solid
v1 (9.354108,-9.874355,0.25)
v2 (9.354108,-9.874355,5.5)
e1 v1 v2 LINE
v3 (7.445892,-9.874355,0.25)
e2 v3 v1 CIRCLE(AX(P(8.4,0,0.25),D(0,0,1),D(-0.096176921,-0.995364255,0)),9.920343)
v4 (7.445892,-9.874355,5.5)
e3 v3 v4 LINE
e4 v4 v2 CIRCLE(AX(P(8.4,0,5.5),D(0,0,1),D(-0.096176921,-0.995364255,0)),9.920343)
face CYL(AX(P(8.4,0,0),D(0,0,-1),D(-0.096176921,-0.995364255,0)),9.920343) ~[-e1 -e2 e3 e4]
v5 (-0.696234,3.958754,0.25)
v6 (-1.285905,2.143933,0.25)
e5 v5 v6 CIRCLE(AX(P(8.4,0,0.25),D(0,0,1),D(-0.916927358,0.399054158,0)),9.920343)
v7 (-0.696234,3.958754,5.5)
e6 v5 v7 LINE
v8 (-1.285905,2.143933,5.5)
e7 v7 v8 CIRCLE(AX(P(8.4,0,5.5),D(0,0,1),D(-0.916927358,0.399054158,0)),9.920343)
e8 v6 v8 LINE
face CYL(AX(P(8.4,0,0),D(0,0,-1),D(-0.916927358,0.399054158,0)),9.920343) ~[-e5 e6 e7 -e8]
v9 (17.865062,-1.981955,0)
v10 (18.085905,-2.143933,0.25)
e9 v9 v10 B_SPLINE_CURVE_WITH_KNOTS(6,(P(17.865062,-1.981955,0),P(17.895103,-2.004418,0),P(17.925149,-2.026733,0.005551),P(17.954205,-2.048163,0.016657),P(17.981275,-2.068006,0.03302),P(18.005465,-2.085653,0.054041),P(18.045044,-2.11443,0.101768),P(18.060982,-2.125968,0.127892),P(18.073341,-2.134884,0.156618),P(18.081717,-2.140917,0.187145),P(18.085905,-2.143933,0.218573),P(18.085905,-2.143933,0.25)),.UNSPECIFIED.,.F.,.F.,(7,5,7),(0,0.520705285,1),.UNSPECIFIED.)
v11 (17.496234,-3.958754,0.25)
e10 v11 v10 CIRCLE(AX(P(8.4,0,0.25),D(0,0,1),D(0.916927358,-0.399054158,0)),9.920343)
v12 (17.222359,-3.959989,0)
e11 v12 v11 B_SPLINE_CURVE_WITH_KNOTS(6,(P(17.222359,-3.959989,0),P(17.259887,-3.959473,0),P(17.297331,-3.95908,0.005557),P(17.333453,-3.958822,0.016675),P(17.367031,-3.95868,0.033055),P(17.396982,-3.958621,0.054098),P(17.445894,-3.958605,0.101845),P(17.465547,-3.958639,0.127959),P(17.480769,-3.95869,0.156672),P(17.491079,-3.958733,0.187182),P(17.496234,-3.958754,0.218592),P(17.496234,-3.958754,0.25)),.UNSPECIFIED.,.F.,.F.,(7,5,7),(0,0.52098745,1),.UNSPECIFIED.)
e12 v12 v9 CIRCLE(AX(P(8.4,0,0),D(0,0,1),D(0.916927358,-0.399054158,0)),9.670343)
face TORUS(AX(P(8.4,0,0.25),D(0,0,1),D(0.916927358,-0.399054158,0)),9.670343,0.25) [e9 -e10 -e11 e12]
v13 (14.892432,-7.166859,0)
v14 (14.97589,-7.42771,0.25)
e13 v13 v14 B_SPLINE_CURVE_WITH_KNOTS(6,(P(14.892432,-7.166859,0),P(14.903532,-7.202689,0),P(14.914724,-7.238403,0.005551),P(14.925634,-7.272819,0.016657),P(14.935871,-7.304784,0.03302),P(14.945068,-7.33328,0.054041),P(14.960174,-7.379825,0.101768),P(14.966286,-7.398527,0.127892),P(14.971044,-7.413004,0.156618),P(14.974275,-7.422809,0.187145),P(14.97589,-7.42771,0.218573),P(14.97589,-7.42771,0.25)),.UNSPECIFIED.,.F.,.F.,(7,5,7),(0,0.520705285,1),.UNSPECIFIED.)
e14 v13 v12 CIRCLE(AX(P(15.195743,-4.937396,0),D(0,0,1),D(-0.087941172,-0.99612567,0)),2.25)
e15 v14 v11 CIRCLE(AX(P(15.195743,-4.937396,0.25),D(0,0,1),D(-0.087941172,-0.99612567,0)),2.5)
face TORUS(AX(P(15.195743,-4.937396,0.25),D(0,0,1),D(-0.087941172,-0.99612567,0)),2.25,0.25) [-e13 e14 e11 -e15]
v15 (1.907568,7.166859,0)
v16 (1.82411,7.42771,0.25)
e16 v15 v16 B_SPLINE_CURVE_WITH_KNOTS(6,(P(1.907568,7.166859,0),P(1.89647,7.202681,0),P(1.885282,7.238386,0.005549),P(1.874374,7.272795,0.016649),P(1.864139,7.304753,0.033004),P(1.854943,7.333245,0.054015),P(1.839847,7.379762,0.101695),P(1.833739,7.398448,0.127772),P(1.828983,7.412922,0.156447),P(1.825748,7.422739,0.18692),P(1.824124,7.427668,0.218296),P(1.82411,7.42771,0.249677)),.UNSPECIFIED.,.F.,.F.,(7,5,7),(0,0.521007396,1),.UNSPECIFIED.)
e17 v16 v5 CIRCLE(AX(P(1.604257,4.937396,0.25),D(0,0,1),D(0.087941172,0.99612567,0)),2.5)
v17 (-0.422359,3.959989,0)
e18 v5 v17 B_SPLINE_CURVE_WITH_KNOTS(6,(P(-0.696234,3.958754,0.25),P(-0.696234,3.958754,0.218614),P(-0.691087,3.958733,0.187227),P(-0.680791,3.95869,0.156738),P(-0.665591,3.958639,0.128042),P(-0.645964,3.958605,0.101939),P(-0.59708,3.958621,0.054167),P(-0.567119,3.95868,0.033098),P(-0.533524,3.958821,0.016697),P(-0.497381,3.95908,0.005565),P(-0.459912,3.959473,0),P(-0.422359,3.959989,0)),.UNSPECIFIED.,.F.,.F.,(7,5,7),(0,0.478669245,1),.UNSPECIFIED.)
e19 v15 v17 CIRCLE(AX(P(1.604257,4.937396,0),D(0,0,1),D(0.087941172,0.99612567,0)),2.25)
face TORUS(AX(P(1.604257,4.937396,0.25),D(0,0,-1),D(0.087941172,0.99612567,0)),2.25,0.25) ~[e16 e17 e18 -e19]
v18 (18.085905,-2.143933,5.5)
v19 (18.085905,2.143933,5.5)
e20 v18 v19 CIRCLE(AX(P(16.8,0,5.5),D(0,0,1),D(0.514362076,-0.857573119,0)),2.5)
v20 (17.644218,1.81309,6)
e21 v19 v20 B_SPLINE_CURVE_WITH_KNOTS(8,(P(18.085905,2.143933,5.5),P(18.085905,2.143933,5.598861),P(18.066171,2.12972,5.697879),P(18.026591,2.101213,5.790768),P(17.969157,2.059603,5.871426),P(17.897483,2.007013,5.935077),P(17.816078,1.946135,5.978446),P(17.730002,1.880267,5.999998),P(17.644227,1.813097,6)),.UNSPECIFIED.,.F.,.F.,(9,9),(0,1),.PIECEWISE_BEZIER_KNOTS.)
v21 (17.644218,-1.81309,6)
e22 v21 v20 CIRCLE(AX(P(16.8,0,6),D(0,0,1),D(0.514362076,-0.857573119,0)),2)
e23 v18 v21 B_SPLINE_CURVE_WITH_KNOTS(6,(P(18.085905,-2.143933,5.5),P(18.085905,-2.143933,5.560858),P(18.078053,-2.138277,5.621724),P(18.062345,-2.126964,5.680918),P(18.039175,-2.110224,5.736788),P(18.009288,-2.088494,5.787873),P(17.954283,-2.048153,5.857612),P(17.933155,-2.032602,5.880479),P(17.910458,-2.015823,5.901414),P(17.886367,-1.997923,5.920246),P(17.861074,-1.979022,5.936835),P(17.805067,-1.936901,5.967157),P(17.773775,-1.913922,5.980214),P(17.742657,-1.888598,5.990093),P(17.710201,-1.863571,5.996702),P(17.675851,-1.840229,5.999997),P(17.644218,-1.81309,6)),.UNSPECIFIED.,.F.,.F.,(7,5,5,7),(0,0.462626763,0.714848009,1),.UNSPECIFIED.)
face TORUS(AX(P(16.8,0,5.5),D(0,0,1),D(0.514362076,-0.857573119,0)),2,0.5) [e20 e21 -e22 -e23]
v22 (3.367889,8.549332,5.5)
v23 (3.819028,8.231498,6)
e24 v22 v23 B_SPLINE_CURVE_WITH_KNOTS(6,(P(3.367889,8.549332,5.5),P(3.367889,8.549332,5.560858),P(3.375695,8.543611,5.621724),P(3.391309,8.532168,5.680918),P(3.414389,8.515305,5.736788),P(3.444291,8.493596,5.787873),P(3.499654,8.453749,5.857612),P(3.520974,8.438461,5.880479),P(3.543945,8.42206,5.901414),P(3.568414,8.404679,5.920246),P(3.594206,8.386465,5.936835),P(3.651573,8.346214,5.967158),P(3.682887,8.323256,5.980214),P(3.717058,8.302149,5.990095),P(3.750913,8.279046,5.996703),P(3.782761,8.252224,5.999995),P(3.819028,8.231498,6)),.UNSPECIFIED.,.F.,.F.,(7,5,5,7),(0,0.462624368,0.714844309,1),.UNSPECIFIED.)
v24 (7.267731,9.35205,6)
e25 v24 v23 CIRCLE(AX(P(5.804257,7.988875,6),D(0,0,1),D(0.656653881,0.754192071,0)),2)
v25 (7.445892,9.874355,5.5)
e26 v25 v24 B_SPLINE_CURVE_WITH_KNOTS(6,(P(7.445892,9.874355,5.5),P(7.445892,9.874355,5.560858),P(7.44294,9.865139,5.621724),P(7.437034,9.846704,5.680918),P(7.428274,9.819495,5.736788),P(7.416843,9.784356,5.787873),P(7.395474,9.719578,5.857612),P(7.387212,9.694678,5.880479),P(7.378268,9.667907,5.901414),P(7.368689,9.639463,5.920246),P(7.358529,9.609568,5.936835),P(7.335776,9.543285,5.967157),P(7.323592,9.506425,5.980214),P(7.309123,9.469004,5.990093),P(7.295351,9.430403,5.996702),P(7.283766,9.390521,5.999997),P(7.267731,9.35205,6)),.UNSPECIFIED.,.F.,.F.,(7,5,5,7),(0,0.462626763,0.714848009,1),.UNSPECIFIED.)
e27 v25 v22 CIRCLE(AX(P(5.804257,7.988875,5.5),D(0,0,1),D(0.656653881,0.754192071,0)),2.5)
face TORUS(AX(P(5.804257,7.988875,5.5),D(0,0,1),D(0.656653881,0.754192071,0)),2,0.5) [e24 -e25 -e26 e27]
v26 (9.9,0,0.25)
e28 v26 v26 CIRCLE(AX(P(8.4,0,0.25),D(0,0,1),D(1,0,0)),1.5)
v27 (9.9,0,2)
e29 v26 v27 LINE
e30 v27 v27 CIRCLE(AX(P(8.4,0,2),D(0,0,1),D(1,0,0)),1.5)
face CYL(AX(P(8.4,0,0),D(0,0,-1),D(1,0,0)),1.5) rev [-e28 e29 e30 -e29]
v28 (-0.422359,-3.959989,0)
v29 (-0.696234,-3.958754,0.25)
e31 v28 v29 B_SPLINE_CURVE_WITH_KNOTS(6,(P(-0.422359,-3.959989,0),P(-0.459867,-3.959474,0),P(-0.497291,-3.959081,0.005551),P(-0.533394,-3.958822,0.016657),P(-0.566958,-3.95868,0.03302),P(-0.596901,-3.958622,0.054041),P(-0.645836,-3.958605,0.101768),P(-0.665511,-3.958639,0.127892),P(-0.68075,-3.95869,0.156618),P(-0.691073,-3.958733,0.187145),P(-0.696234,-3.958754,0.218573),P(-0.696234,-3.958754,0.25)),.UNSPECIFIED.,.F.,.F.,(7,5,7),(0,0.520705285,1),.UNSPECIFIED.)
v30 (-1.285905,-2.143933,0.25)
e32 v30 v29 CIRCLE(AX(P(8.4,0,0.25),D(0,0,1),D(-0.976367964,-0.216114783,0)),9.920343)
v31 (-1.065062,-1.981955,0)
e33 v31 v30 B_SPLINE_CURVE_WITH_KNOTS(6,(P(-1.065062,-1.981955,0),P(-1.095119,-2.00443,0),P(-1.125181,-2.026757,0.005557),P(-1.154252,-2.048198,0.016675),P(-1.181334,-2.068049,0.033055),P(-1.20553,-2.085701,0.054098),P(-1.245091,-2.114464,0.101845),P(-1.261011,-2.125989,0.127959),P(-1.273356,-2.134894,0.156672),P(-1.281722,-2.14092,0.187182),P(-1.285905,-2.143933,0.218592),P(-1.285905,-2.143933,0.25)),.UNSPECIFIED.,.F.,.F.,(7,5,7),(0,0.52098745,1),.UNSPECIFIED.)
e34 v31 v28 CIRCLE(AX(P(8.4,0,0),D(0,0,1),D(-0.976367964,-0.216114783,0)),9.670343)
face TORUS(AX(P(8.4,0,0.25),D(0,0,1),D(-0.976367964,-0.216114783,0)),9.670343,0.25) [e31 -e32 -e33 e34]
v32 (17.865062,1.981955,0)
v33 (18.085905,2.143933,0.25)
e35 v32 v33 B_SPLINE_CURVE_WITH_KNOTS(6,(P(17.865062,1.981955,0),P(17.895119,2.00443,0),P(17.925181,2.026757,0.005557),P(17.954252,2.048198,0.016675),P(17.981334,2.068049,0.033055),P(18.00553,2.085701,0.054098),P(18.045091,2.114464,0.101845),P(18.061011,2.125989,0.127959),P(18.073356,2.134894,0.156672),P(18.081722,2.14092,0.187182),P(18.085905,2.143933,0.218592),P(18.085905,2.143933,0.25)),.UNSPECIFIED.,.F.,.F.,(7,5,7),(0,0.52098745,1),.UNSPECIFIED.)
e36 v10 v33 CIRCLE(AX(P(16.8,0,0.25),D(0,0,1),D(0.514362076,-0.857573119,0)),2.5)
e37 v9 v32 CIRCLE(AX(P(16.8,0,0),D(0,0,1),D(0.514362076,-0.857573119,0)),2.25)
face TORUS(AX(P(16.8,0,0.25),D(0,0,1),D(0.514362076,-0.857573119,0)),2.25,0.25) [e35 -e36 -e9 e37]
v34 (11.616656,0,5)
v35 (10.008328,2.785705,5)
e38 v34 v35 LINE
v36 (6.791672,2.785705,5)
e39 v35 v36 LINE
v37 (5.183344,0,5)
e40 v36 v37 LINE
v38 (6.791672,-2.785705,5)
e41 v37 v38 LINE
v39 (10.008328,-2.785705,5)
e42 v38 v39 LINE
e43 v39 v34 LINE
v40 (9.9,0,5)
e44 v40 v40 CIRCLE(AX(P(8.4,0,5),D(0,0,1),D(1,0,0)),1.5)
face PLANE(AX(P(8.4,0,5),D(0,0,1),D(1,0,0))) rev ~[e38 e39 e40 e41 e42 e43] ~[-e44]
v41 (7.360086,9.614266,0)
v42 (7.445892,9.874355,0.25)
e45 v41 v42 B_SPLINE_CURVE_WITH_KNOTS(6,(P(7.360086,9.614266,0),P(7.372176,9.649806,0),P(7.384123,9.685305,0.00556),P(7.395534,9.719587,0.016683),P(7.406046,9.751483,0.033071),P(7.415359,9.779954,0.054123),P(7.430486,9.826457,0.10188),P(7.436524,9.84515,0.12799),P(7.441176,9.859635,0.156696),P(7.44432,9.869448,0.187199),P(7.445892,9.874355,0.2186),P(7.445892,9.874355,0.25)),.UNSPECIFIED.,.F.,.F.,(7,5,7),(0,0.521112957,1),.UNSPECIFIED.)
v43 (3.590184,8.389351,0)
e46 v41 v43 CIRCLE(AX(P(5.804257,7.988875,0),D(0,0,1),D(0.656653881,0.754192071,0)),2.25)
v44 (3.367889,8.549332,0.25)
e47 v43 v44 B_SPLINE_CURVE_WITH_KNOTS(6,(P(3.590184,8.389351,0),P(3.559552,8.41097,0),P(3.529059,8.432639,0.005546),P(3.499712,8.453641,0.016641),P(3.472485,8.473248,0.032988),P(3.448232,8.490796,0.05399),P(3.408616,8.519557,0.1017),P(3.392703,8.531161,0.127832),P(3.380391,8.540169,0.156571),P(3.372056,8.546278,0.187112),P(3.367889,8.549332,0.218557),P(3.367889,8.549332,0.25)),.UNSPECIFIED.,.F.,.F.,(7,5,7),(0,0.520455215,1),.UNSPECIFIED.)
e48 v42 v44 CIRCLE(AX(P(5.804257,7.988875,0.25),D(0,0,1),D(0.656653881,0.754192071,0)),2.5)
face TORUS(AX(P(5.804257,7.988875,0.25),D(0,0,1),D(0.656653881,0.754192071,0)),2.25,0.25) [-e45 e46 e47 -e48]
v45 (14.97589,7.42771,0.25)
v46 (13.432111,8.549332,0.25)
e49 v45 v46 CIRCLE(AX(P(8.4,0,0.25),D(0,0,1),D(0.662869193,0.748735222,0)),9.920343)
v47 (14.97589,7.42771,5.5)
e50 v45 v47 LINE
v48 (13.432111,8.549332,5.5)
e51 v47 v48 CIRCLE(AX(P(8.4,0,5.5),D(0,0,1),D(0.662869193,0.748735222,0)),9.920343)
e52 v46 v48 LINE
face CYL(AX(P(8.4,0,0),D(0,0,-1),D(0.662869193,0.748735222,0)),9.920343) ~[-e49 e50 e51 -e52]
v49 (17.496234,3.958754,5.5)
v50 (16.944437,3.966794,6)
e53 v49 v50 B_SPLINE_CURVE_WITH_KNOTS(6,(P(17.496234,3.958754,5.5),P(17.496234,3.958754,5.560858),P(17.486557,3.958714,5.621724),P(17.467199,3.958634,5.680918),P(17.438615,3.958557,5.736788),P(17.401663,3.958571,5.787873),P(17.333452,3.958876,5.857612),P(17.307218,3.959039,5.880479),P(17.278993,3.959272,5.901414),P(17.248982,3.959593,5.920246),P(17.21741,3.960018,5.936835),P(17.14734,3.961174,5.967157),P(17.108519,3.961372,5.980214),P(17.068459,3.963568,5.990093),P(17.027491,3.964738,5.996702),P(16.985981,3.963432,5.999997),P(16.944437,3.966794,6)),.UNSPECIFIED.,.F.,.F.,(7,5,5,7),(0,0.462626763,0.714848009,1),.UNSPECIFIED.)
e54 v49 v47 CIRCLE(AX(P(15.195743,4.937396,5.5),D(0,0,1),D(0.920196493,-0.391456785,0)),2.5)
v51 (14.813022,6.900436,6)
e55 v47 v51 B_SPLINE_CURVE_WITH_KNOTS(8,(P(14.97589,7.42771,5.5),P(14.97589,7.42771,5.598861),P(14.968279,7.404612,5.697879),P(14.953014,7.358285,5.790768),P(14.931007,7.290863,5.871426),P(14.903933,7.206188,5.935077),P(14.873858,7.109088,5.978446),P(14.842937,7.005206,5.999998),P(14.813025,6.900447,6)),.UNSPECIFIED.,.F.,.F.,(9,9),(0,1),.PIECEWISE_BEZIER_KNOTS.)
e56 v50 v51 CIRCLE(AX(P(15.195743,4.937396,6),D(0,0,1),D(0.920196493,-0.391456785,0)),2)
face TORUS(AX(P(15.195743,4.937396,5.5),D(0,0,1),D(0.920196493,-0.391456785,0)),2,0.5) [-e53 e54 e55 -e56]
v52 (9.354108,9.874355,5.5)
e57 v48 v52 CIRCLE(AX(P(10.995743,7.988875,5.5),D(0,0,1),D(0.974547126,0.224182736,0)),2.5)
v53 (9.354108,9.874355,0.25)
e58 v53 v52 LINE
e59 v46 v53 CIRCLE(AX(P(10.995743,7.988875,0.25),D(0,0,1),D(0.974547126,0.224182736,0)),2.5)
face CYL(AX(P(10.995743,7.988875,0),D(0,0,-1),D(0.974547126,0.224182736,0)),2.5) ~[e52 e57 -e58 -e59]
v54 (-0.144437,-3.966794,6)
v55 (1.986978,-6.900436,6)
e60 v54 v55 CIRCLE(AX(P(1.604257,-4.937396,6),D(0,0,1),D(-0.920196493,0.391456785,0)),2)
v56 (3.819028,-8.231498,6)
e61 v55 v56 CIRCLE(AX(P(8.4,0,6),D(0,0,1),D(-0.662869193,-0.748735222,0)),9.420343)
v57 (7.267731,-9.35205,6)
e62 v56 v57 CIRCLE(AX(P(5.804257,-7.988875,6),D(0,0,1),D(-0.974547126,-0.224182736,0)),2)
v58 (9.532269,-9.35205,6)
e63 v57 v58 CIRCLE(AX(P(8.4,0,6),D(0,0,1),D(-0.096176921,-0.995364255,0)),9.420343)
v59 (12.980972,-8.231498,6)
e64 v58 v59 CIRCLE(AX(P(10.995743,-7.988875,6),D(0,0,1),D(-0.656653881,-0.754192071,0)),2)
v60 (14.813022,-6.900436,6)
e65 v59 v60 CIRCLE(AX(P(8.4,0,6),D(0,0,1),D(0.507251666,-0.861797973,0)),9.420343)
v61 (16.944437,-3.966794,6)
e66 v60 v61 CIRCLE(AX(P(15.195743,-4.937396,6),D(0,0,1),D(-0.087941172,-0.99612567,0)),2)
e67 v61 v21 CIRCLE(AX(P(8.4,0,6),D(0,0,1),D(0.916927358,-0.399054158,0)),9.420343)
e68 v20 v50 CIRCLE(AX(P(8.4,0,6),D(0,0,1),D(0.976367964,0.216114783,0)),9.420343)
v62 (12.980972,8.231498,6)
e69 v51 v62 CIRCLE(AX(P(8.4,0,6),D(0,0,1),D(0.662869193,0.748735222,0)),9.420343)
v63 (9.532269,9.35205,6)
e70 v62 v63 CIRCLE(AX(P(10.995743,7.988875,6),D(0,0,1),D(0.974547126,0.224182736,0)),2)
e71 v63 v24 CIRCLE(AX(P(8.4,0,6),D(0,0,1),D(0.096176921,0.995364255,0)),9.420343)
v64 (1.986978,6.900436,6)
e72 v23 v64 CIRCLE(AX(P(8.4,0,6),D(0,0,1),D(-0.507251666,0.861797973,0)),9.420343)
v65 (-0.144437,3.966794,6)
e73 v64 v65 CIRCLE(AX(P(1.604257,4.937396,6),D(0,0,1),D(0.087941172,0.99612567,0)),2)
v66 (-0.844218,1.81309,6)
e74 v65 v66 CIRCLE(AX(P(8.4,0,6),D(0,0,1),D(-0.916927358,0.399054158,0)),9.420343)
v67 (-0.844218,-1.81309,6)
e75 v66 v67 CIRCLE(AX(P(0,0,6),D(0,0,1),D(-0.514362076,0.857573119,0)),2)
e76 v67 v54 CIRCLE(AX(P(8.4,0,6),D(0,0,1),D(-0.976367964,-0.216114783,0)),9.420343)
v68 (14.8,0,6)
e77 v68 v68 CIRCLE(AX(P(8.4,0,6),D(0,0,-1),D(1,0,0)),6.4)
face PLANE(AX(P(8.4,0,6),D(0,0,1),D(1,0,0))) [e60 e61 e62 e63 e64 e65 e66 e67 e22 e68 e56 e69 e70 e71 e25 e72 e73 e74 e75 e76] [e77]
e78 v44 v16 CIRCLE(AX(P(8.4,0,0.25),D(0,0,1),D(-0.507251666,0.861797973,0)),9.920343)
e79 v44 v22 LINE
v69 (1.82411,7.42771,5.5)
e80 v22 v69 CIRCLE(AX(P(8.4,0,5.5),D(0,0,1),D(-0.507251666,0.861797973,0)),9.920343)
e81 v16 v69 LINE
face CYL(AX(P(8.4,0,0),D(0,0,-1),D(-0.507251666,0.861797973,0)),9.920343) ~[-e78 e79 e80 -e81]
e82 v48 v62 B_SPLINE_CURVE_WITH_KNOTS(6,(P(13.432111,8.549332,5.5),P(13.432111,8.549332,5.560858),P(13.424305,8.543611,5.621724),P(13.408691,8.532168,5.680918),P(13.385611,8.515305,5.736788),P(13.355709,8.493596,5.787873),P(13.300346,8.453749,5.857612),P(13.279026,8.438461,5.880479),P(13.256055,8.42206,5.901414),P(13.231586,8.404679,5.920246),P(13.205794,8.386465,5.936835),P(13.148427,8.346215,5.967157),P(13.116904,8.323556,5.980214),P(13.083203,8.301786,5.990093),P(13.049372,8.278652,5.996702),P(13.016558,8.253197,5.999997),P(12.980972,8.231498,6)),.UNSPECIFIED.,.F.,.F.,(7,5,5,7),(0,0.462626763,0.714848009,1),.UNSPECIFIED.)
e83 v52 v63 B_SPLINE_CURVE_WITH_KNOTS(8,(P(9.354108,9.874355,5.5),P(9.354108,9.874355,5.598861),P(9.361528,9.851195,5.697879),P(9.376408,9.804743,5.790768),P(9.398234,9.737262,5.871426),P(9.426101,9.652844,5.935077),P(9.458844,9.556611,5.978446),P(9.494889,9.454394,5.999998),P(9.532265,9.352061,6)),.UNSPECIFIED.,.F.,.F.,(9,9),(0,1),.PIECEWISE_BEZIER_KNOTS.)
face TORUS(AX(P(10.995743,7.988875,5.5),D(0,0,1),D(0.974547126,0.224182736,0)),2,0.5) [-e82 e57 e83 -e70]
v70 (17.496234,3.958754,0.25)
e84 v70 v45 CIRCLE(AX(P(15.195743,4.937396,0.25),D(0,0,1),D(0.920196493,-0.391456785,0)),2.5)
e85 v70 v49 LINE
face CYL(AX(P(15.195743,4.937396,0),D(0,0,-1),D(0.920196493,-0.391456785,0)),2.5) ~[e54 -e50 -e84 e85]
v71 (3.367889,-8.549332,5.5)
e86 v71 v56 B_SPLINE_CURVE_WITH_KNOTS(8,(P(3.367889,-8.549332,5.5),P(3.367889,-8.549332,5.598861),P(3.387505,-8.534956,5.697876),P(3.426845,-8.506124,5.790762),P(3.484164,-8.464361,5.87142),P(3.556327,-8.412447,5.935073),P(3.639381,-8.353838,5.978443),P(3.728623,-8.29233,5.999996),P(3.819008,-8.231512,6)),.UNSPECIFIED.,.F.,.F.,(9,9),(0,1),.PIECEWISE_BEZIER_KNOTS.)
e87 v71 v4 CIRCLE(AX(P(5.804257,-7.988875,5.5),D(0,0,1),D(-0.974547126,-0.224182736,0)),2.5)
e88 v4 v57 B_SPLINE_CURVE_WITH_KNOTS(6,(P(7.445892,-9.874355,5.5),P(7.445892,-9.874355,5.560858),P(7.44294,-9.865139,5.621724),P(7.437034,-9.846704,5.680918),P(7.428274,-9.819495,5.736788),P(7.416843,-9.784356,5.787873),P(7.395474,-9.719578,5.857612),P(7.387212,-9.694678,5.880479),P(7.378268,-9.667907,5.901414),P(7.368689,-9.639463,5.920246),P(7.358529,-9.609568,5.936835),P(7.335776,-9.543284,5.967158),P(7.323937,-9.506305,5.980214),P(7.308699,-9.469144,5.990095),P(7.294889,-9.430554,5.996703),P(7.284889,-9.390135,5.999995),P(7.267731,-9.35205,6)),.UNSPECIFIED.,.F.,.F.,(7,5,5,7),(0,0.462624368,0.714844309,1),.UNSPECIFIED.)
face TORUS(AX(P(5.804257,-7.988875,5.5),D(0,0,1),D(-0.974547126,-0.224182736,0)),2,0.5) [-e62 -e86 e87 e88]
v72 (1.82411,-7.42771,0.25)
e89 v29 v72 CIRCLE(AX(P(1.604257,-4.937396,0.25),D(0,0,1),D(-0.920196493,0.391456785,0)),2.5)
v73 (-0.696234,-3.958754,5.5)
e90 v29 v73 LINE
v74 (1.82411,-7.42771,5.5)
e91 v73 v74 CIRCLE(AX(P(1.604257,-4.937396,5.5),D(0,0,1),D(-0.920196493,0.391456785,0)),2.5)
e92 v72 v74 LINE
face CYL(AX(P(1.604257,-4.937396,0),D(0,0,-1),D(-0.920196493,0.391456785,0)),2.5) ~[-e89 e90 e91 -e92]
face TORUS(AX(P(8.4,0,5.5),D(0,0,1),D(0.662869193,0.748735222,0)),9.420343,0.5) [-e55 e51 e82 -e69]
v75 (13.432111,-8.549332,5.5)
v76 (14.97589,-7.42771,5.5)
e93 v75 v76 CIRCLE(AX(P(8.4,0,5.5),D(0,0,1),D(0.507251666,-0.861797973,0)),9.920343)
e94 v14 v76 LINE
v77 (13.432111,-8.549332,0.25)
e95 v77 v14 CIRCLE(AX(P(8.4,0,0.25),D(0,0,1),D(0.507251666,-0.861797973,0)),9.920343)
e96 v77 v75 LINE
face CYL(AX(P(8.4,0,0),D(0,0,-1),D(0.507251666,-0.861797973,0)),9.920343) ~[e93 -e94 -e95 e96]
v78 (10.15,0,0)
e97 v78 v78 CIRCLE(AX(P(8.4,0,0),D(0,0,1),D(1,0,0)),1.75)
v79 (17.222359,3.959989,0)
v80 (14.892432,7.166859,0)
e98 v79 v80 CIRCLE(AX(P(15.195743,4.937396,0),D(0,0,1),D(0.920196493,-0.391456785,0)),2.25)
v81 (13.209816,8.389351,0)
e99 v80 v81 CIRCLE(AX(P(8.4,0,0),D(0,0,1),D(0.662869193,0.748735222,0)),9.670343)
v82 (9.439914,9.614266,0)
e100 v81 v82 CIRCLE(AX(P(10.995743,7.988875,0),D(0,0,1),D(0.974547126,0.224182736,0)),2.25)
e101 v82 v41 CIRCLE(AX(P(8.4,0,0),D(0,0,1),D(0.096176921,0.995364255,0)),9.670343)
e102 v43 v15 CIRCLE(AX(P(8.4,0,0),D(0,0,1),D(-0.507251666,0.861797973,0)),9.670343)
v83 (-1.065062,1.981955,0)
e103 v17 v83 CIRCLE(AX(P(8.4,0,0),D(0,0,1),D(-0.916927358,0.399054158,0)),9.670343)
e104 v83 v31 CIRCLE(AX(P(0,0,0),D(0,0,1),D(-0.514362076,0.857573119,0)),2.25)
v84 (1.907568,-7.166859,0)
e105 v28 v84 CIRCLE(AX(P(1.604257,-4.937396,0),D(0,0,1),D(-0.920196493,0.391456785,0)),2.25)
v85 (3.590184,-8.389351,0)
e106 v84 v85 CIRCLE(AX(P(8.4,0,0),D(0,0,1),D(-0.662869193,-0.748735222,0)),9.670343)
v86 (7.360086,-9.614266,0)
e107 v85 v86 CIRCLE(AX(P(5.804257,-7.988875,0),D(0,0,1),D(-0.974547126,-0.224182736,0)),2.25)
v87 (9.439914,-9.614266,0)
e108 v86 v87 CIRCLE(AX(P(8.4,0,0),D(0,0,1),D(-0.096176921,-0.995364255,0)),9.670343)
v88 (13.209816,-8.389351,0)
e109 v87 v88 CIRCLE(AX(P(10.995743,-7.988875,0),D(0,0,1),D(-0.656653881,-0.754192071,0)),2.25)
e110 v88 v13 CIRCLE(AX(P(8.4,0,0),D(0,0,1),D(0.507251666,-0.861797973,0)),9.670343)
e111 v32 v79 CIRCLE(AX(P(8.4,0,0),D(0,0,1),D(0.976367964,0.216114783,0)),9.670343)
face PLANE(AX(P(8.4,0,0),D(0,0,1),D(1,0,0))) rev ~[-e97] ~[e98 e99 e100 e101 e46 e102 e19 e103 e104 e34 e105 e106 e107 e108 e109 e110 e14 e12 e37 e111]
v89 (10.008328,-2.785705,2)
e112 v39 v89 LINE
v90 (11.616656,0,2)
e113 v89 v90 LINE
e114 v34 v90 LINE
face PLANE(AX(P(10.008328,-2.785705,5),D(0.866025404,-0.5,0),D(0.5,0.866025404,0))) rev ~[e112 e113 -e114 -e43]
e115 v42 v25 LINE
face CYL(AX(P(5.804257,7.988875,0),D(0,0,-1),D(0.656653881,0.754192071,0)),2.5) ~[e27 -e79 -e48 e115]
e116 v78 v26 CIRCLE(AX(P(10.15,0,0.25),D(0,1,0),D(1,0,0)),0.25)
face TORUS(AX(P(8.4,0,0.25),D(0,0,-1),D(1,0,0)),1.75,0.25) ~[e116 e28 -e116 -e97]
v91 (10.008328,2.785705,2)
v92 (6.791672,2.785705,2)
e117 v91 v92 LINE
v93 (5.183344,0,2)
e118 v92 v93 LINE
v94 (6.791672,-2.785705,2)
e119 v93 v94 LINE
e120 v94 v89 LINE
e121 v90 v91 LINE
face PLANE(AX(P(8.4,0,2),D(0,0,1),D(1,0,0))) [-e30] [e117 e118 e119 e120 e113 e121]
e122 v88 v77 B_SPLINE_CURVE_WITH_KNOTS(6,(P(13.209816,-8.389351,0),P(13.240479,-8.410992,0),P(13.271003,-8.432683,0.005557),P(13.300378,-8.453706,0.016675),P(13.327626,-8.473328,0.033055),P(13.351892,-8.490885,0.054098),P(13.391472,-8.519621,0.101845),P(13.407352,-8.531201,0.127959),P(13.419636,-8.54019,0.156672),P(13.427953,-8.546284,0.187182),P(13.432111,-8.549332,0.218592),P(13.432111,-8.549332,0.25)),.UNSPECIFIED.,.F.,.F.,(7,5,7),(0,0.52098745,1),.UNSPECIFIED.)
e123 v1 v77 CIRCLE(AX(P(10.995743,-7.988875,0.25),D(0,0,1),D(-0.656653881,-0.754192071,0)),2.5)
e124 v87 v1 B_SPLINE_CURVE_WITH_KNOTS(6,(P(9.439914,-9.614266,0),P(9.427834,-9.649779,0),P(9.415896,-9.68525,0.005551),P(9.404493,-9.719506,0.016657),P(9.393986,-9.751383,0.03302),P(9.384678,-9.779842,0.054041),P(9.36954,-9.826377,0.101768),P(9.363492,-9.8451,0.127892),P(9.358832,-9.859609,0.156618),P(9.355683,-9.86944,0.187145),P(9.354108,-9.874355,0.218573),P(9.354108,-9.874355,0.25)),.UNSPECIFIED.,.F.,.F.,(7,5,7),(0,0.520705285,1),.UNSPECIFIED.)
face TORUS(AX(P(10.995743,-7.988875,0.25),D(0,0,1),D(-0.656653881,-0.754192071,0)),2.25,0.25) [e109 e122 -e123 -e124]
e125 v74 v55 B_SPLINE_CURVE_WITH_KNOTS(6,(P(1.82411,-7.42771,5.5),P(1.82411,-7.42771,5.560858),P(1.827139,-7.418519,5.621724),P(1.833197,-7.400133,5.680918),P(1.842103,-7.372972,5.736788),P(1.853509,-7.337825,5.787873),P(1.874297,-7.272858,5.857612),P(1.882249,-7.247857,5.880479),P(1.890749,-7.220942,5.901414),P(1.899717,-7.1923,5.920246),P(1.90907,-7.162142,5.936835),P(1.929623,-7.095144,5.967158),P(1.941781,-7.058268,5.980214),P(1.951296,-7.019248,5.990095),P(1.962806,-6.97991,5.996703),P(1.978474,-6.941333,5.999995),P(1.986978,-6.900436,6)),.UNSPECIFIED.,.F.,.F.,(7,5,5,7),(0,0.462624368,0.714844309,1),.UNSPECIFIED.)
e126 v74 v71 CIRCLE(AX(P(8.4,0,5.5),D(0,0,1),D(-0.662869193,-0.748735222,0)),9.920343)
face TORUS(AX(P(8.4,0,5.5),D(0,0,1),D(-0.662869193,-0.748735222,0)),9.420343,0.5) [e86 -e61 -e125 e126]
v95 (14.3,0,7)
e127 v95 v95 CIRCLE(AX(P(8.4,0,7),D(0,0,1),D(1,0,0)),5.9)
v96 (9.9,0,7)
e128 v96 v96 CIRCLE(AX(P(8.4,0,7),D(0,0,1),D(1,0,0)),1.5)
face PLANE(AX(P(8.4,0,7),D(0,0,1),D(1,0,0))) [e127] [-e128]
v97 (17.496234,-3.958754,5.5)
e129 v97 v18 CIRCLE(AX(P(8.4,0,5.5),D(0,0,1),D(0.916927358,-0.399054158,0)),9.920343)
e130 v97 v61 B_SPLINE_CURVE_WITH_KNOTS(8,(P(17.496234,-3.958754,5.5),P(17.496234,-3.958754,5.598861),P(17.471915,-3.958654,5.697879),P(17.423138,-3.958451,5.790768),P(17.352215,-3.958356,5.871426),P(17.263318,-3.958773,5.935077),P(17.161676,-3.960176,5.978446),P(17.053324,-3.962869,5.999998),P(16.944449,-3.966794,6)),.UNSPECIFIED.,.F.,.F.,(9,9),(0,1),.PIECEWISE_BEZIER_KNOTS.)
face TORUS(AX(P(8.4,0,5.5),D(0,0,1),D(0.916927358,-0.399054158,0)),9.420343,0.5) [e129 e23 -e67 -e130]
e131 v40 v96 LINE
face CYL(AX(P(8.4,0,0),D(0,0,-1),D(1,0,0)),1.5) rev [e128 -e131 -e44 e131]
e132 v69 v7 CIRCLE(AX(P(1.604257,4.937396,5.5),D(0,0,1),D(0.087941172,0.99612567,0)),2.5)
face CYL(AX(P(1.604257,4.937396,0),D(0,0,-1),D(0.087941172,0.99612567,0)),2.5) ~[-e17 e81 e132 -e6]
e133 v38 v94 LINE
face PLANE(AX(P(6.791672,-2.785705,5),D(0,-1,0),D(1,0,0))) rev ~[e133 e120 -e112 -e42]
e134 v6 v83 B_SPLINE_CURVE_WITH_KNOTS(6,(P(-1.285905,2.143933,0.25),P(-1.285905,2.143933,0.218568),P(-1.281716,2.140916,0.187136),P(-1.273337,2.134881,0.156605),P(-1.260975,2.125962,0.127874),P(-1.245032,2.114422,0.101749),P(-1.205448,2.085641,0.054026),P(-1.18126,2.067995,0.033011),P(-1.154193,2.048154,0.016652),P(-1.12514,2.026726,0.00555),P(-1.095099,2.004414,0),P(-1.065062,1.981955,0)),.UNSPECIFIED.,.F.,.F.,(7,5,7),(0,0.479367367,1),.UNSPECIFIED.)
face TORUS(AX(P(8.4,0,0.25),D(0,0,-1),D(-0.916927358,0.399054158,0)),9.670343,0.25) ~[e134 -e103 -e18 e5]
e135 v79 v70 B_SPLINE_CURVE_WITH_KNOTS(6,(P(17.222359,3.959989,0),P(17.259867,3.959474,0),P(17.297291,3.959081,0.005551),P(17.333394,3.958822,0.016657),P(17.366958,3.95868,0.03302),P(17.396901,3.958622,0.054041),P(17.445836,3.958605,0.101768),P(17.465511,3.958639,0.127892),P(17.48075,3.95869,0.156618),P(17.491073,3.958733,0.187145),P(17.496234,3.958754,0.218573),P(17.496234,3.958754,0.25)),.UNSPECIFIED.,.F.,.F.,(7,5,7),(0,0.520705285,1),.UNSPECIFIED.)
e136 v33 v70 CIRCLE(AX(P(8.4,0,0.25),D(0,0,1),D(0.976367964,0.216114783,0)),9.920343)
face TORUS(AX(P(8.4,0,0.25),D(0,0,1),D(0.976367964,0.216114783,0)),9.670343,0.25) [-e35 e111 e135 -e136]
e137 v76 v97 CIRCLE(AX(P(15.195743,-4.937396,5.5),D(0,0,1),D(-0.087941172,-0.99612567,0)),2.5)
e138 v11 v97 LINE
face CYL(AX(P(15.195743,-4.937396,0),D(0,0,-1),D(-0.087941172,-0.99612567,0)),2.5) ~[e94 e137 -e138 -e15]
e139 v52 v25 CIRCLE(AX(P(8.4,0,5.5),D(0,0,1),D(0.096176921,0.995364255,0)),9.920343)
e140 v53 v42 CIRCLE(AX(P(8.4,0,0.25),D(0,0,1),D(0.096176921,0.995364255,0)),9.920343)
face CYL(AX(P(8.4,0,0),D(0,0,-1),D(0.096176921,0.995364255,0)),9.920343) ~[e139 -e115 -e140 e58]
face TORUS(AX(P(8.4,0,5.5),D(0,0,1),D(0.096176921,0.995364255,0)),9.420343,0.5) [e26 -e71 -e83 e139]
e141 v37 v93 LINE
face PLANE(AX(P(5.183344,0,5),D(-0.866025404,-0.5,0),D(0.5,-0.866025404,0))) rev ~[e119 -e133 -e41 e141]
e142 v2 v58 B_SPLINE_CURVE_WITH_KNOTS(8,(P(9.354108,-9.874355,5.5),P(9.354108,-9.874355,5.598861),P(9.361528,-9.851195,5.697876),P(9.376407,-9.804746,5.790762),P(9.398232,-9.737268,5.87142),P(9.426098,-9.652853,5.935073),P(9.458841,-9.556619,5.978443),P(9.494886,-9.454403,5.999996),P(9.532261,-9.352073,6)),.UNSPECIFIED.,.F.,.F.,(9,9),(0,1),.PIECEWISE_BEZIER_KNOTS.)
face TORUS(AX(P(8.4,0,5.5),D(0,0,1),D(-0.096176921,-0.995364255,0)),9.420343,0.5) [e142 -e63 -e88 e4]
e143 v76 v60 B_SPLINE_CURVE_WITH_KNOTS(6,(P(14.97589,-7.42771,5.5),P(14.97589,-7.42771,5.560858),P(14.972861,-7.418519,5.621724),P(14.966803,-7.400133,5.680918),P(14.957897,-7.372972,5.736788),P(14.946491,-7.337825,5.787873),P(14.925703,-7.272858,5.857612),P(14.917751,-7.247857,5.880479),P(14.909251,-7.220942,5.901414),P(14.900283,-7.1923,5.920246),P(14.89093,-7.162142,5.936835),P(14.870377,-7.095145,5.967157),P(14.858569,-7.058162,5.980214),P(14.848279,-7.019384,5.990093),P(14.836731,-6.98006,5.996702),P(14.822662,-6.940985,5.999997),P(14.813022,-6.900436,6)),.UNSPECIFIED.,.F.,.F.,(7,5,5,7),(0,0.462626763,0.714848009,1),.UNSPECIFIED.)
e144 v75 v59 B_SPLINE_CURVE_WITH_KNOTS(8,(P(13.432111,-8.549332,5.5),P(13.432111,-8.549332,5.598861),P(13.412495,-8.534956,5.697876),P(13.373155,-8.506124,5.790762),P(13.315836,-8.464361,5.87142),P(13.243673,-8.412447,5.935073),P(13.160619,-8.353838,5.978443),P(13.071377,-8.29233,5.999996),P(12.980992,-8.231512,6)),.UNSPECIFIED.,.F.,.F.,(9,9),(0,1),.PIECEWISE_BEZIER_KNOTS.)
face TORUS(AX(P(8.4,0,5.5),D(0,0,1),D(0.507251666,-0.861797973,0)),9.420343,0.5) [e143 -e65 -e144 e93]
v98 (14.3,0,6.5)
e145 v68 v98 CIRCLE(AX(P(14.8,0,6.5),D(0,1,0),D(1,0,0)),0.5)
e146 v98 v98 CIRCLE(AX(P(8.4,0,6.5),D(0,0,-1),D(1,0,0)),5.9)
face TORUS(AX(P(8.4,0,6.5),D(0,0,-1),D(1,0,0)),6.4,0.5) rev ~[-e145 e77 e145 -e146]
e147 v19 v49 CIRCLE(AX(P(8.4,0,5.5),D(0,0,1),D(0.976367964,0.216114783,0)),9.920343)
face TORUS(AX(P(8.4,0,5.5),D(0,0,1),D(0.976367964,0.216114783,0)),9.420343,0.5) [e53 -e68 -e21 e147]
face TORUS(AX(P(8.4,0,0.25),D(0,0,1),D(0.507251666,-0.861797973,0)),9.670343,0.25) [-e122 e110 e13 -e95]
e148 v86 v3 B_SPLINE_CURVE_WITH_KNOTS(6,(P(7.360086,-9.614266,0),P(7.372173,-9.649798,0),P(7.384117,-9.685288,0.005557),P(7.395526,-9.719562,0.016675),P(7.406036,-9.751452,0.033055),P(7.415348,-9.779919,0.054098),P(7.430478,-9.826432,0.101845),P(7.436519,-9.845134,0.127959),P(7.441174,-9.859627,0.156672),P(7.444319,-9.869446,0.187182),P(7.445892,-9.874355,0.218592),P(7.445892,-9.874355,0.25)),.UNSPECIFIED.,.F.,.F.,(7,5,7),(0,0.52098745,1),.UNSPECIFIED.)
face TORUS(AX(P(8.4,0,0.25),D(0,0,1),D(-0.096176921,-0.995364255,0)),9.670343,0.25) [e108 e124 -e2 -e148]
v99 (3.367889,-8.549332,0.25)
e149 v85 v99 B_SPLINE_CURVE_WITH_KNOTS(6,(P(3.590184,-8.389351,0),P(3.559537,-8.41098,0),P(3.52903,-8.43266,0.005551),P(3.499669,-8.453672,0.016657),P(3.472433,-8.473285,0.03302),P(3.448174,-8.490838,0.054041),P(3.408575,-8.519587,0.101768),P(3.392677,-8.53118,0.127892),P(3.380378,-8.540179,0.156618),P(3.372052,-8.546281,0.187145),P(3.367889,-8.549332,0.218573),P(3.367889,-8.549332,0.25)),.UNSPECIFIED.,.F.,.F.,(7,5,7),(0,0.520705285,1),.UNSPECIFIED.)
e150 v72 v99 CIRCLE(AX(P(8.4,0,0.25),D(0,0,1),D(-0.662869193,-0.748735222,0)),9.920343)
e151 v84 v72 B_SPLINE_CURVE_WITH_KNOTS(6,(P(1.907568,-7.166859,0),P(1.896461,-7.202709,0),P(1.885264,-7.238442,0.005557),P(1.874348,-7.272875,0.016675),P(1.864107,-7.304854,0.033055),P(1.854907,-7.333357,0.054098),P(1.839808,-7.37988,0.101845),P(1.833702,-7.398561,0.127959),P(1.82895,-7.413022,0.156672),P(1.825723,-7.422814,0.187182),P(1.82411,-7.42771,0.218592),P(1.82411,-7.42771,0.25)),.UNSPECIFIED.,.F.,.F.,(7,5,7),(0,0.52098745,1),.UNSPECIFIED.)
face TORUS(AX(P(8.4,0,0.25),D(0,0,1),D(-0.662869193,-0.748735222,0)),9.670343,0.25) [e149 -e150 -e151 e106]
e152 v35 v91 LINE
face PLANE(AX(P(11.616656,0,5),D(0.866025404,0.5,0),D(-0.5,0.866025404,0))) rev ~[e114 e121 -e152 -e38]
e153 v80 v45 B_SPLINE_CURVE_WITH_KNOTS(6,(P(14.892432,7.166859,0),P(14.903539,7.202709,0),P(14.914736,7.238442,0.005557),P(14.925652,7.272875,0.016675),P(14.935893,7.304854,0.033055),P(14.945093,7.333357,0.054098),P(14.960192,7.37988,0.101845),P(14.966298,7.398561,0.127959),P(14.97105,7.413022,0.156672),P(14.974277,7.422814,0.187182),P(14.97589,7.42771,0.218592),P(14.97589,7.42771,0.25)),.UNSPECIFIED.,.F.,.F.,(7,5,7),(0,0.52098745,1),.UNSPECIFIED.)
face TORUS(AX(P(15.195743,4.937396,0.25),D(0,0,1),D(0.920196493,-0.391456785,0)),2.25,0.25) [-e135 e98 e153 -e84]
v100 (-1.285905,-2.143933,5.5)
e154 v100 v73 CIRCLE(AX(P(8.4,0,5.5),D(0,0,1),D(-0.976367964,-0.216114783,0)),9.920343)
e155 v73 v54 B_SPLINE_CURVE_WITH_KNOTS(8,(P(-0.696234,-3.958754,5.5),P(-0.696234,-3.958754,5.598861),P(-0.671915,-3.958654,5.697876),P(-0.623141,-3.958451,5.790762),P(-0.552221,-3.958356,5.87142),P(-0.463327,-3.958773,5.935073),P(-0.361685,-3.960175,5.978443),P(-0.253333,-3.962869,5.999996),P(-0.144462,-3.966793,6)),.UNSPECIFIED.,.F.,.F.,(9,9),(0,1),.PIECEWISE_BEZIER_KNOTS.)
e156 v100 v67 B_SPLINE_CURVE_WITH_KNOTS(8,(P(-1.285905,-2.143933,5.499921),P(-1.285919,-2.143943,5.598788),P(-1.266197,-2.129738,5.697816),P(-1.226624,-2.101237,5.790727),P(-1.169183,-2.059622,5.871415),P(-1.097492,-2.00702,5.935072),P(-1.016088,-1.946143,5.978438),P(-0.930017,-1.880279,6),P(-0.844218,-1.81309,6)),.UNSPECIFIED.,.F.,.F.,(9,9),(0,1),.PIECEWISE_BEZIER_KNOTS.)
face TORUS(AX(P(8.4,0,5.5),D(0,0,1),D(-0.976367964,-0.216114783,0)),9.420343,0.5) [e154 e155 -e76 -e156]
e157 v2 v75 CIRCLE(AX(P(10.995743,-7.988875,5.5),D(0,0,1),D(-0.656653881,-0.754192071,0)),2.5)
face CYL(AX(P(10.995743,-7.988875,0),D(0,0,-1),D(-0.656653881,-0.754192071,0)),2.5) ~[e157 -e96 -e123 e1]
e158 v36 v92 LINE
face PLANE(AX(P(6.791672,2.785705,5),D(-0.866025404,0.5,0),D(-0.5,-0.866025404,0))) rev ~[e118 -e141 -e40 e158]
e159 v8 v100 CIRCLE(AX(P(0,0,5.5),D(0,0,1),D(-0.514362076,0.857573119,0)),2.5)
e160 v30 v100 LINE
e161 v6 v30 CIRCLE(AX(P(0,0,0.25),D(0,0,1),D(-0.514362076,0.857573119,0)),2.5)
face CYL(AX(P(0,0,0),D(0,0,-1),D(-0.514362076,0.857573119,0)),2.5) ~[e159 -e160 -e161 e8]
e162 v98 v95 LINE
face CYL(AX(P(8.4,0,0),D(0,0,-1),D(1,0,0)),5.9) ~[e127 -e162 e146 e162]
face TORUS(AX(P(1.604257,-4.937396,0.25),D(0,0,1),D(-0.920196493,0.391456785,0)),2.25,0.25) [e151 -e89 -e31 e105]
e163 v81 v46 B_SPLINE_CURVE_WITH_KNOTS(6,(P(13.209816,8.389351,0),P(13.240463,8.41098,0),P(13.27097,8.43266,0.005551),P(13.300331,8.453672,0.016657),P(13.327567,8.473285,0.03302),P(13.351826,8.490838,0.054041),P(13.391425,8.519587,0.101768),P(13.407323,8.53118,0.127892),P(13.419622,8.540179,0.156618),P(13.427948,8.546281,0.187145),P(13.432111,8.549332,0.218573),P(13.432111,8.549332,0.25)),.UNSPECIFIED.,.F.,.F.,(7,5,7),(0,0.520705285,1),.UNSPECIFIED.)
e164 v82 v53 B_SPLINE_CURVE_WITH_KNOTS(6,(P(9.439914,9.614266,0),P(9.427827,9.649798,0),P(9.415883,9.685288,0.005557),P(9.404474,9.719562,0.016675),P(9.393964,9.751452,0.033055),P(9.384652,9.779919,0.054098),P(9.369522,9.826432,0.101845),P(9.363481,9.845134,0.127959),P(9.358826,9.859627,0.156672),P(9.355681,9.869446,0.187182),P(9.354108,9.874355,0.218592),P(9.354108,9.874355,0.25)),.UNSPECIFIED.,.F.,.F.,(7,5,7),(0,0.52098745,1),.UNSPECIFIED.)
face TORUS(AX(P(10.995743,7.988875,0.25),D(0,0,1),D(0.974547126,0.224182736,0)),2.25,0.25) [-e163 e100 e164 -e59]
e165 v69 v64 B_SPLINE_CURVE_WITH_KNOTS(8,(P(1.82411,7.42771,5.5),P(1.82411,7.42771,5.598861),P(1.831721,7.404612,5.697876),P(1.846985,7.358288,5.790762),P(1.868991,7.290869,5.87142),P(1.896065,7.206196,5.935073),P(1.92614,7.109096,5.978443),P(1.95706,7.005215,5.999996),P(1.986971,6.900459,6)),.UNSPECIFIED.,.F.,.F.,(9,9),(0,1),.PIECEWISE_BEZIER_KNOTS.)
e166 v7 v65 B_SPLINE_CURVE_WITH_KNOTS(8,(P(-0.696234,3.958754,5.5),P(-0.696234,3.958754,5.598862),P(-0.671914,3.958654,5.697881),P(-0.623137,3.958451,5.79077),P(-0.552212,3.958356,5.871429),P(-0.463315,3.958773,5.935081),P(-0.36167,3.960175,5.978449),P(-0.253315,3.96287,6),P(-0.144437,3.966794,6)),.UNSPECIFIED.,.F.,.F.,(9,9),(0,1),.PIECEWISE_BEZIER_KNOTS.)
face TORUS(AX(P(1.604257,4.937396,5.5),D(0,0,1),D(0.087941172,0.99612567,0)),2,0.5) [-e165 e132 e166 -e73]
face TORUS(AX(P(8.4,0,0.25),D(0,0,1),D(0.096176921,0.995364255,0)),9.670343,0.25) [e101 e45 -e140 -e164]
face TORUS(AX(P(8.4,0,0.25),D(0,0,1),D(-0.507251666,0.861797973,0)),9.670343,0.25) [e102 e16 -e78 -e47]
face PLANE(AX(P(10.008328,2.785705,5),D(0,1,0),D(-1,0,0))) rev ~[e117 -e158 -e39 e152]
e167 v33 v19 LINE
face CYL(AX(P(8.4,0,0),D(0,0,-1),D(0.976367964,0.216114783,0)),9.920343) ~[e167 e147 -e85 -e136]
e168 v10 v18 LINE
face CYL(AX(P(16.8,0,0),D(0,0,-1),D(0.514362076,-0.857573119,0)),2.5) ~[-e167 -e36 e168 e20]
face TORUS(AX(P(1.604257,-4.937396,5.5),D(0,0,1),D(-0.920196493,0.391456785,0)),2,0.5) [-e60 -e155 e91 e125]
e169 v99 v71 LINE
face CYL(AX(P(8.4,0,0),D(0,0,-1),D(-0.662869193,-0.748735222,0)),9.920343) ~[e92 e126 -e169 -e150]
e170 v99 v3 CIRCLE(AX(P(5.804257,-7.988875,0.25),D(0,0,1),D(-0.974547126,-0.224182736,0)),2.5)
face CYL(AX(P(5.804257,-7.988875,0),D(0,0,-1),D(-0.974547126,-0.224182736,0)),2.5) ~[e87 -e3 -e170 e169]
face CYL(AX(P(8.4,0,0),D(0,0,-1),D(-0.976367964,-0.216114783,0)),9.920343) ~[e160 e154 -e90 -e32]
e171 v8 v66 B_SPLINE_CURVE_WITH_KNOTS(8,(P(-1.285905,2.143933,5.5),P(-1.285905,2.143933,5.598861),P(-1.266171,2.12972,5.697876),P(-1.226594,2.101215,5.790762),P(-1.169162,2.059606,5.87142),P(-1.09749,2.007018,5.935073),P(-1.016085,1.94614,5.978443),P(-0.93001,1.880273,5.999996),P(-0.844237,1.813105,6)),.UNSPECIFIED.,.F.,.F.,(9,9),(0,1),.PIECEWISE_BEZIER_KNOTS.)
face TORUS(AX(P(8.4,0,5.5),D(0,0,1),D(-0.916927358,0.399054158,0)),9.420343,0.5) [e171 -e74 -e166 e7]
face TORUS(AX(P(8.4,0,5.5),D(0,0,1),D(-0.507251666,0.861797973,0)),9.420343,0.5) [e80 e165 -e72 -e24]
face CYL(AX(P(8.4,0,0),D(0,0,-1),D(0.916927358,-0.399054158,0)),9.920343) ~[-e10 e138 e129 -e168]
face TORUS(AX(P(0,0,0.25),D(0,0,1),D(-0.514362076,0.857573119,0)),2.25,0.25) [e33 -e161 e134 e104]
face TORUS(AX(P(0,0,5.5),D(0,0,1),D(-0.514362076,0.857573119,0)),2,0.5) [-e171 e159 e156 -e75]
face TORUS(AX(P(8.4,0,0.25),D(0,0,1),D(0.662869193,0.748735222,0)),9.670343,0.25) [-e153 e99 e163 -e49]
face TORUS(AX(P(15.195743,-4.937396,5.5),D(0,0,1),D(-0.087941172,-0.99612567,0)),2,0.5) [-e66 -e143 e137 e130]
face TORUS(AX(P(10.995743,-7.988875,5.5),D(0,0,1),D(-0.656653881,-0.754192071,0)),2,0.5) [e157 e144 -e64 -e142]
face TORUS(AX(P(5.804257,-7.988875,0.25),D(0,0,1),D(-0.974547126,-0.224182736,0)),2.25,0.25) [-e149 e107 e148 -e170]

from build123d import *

# Parameters (mm, degrees)
F0_R     = 5.9
F0_R_2   = 1.5
F1_DEPTH = 6
F2_DEPTH = 7
F3_DEPTH = 7
F5_START = -2
F4_R     = 1.5
F5_DEPTH = 3
F6_R     = 0.5
F7_R     = 0.25


with BuildPart() as f1:
    # F0 (on Top) → F1 (new body)
    with BuildSketch(Plane.XY):
        with BuildLine():
            ThreePointArc((-0.6962339846, 3.9587541561), (-1.0348069468, 3.0655546072), (-1.2859051888, 2.1439327987))
            ThreePointArc((-1.2859051888, 2.1439327987), (-2.5, 0), (-1.2859051888, -2.1439327987))
            ThreePointArc((-1.2859051888, -2.1439327987), (-1.0348069468, -3.0655546072), (-0.6962339846, -3.9587541561))
            ThreePointArc((-0.6962339846, -3.9587541561), (-0.4182852387, -6.40685925), (1.8241101773, -7.427710294))
            ThreePointArc((1.8241101773, -7.427710294), (2.5689686296, -8.0257261559), (3.367889432, -8.5493315764))
            ThreePointArc((3.367889432, -8.5493315764), (5.0317147613, -10.3665160276), (7.4458919495, -9.8743549156))
            ThreePointArc((7.4458919495, -9.8743549156), (8.4, -9.9203430975), (9.3541080505, -9.8743549156))
            ThreePointArc((9.3541080505, -9.8743549156), (11.7682852387, -10.3665160276), (13.432110568, -8.5493315764))
            ThreePointArc((13.432110568, -8.5493315764), (14.2310313704, -8.0257261559), (14.9758898227, -7.427710294))
            ThreePointArc((14.9758898227, -7.427710294), (17.2182852387, -6.40685925), (17.4962339846, -3.9587541561))
            ThreePointArc((17.4962339846, -3.9587541561), (17.8348069468, -3.0655546072), (18.0859051888, -2.1439327987))
            ThreePointArc((18.0859051888, -2.1439327987), (19.3, 0), (18.0859051888, 2.1439327987))
            ThreePointArc((18.0859051888, 2.1439327987), (17.8348069468, 3.0655546072), (17.4962339846, 3.9587541561))
            ThreePointArc((17.4962339846, 3.9587541561), (17.2182852387, 6.40685925), (14.9758898227, 7.427710294))
            ThreePointArc((14.9758898227, 7.427710294), (14.2310313704, 8.0257261559), (13.432110568, 8.5493315764))
            ThreePointArc((13.432110568, 8.5493315764), (11.7682852387, 10.3665160276), (9.3541080505, 9.8743549156))
            ThreePointArc((9.3541080505, 9.8743549156), (8.4, 9.9203430975), (7.4458919495, 9.8743549156))
            ThreePointArc((7.4458919495, 9.8743549156), (5.0317147613, 10.3665160276), (3.367889432, 8.5493315764))
            ThreePointArc((3.367889432, 8.5493315764), (2.5689686296, 8.0257261559), (1.8241101773, 7.427710294))
            ThreePointArc((1.8241101773, 7.427710294), (-0.4182852387, 6.40685925), (-0.6962339846, 3.9587541561))
        make_face()
        with Locations((8.4, 0)):
            Circle(F0_R, mode=Mode.SUBTRACT)
        with Locations((8.4, 0)):
            Circle(F0_R)
        Polygon((11.5754264805, 0), (9.9877132403, -2.75), (6.8122867597, -2.75), (5.2245735195, 0), (6.8122867597, 2.75), (9.9877132403, 2.75), align=None, mode=Mode.SUBTRACT)
        Polygon((6.8122867597, -2.75), (9.9877132403, -2.75), (11.5754264805, 0), (9.9877132403, 2.75), (6.8122867597, 2.75), (5.2245735195, 0), align=None)
        with Locations((8.4, 0)):
            Circle(F0_R_2, mode=Mode.SUBTRACT)
    extrude(amount=F1_DEPTH)

    # F0 (on Top) → F2 (join)
    with BuildSketch(Plane.XY):
        with Locations((8.4, 0)):
            Circle(F0_R)
        Polygon((11.5754264805, 0), (9.9877132403, -2.75), (6.8122867597, -2.75), (5.2245735195, 0), (6.8122867597, 2.75), (9.9877132403, 2.75), align=None, mode=Mode.SUBTRACT)
    extrude(amount=F2_DEPTH)

    # F0 (on Top) → F3 (join)
    with BuildSketch(Plane.XY):
        Polygon((6.8122867597, -2.75), (9.9877132403, -2.75), (11.5754264805, 0), (9.9877132403, 2.75), (6.8122867597, 2.75), (5.2245735195, 0), align=None)
        with Locations((8.4, 0)):
            Circle(F0_R_2, mode=Mode.SUBTRACT)
    extrude(amount=F3_DEPTH)

    # F4 (on face) → F5 (cut)
    with BuildSketch(Plane.XY.offset(7).offset(F5_START)):
        Polygon((10.0083278178, 2.7857054956), (6.7916721822, 2.7857054956), (5.1833443644, 0), (6.7916721822, -2.7857054956), (10.0083278178, -2.7857054956), (11.6166556356, 0), align=None)
        with Locations((8.4, 0)):
            Circle(F4_R, mode=Mode.SUBTRACT)
    extrude(amount=-F5_DEPTH, mode=Mode.SUBTRACT)

    # F6
    f6_edges = [f1.edges().sort_by_distance(p)[0] for p in [
        (2.568969, 8.025726, 6),
        (5.031715, 10.366516, 6),
        (-0.418285, 6.406859, 6),
        (8.4, 9.920343, 6),
        (-1.034807, 3.065555, 6),
        (11.768285, 10.366516, 6),
        (-2.5, 0, 6),
        (14.231031, 8.025726, 6),
        (-1.034807, -3.065555, 6),
        (17.218285, 6.406859, 6),
        (-0.418285, -6.406859, 6),
        (17.834807, 3.065555, 6),
        (2.568969, -8.025726, 6),
        (19.3, 0, 6),
        (5.031715, -10.366516, 6),
        (17.834807, -3.065555, 6),
        (8.4, -9.920343, 6),
        (17.218285, -6.406859, 6),
        (11.768285, -10.366516, 6),
        (14.231031, -8.025726, 6),
        (2.5, 0, 6),
    ]]
    fillet(f6_edges, radius=F6_R)

    # F7
    f7_edges = [f1.edges().sort_by_distance(p)[0] for p in [
        (2.568969, 8.025726, 0),
        (-0.418285, 6.406859, 0),
        (-1.034807, 3.065555, 0),
        (-2.5, 0, 0),
        (-1.034807, -3.065555, 0),
        (-0.418285, -6.406859, 0),
        (2.568969, -8.025726, 0),
        (5.031715, -10.366516, 0),
        (8.4, -9.920343, 0),
        (11.768285, -10.366516, 0),
        (14.231031, -8.025726, 0),
        (17.218285, -6.406859, 0),
        (17.834807, -3.065555, 0),
        (19.3, 0, 0),
        (17.834807, 3.065555, 0),
        (17.218285, 6.406859, 0),
        (14.231031, 8.025726, 0),
        (11.768285, 10.366516, 0),
        (8.4, 9.920343, 0),
        (5.031715, 10.366516, 0),
        (6.9, 0, 0),
    ]]
    fillet(f7_edges, radius=F7_R)


solid = f1.part
